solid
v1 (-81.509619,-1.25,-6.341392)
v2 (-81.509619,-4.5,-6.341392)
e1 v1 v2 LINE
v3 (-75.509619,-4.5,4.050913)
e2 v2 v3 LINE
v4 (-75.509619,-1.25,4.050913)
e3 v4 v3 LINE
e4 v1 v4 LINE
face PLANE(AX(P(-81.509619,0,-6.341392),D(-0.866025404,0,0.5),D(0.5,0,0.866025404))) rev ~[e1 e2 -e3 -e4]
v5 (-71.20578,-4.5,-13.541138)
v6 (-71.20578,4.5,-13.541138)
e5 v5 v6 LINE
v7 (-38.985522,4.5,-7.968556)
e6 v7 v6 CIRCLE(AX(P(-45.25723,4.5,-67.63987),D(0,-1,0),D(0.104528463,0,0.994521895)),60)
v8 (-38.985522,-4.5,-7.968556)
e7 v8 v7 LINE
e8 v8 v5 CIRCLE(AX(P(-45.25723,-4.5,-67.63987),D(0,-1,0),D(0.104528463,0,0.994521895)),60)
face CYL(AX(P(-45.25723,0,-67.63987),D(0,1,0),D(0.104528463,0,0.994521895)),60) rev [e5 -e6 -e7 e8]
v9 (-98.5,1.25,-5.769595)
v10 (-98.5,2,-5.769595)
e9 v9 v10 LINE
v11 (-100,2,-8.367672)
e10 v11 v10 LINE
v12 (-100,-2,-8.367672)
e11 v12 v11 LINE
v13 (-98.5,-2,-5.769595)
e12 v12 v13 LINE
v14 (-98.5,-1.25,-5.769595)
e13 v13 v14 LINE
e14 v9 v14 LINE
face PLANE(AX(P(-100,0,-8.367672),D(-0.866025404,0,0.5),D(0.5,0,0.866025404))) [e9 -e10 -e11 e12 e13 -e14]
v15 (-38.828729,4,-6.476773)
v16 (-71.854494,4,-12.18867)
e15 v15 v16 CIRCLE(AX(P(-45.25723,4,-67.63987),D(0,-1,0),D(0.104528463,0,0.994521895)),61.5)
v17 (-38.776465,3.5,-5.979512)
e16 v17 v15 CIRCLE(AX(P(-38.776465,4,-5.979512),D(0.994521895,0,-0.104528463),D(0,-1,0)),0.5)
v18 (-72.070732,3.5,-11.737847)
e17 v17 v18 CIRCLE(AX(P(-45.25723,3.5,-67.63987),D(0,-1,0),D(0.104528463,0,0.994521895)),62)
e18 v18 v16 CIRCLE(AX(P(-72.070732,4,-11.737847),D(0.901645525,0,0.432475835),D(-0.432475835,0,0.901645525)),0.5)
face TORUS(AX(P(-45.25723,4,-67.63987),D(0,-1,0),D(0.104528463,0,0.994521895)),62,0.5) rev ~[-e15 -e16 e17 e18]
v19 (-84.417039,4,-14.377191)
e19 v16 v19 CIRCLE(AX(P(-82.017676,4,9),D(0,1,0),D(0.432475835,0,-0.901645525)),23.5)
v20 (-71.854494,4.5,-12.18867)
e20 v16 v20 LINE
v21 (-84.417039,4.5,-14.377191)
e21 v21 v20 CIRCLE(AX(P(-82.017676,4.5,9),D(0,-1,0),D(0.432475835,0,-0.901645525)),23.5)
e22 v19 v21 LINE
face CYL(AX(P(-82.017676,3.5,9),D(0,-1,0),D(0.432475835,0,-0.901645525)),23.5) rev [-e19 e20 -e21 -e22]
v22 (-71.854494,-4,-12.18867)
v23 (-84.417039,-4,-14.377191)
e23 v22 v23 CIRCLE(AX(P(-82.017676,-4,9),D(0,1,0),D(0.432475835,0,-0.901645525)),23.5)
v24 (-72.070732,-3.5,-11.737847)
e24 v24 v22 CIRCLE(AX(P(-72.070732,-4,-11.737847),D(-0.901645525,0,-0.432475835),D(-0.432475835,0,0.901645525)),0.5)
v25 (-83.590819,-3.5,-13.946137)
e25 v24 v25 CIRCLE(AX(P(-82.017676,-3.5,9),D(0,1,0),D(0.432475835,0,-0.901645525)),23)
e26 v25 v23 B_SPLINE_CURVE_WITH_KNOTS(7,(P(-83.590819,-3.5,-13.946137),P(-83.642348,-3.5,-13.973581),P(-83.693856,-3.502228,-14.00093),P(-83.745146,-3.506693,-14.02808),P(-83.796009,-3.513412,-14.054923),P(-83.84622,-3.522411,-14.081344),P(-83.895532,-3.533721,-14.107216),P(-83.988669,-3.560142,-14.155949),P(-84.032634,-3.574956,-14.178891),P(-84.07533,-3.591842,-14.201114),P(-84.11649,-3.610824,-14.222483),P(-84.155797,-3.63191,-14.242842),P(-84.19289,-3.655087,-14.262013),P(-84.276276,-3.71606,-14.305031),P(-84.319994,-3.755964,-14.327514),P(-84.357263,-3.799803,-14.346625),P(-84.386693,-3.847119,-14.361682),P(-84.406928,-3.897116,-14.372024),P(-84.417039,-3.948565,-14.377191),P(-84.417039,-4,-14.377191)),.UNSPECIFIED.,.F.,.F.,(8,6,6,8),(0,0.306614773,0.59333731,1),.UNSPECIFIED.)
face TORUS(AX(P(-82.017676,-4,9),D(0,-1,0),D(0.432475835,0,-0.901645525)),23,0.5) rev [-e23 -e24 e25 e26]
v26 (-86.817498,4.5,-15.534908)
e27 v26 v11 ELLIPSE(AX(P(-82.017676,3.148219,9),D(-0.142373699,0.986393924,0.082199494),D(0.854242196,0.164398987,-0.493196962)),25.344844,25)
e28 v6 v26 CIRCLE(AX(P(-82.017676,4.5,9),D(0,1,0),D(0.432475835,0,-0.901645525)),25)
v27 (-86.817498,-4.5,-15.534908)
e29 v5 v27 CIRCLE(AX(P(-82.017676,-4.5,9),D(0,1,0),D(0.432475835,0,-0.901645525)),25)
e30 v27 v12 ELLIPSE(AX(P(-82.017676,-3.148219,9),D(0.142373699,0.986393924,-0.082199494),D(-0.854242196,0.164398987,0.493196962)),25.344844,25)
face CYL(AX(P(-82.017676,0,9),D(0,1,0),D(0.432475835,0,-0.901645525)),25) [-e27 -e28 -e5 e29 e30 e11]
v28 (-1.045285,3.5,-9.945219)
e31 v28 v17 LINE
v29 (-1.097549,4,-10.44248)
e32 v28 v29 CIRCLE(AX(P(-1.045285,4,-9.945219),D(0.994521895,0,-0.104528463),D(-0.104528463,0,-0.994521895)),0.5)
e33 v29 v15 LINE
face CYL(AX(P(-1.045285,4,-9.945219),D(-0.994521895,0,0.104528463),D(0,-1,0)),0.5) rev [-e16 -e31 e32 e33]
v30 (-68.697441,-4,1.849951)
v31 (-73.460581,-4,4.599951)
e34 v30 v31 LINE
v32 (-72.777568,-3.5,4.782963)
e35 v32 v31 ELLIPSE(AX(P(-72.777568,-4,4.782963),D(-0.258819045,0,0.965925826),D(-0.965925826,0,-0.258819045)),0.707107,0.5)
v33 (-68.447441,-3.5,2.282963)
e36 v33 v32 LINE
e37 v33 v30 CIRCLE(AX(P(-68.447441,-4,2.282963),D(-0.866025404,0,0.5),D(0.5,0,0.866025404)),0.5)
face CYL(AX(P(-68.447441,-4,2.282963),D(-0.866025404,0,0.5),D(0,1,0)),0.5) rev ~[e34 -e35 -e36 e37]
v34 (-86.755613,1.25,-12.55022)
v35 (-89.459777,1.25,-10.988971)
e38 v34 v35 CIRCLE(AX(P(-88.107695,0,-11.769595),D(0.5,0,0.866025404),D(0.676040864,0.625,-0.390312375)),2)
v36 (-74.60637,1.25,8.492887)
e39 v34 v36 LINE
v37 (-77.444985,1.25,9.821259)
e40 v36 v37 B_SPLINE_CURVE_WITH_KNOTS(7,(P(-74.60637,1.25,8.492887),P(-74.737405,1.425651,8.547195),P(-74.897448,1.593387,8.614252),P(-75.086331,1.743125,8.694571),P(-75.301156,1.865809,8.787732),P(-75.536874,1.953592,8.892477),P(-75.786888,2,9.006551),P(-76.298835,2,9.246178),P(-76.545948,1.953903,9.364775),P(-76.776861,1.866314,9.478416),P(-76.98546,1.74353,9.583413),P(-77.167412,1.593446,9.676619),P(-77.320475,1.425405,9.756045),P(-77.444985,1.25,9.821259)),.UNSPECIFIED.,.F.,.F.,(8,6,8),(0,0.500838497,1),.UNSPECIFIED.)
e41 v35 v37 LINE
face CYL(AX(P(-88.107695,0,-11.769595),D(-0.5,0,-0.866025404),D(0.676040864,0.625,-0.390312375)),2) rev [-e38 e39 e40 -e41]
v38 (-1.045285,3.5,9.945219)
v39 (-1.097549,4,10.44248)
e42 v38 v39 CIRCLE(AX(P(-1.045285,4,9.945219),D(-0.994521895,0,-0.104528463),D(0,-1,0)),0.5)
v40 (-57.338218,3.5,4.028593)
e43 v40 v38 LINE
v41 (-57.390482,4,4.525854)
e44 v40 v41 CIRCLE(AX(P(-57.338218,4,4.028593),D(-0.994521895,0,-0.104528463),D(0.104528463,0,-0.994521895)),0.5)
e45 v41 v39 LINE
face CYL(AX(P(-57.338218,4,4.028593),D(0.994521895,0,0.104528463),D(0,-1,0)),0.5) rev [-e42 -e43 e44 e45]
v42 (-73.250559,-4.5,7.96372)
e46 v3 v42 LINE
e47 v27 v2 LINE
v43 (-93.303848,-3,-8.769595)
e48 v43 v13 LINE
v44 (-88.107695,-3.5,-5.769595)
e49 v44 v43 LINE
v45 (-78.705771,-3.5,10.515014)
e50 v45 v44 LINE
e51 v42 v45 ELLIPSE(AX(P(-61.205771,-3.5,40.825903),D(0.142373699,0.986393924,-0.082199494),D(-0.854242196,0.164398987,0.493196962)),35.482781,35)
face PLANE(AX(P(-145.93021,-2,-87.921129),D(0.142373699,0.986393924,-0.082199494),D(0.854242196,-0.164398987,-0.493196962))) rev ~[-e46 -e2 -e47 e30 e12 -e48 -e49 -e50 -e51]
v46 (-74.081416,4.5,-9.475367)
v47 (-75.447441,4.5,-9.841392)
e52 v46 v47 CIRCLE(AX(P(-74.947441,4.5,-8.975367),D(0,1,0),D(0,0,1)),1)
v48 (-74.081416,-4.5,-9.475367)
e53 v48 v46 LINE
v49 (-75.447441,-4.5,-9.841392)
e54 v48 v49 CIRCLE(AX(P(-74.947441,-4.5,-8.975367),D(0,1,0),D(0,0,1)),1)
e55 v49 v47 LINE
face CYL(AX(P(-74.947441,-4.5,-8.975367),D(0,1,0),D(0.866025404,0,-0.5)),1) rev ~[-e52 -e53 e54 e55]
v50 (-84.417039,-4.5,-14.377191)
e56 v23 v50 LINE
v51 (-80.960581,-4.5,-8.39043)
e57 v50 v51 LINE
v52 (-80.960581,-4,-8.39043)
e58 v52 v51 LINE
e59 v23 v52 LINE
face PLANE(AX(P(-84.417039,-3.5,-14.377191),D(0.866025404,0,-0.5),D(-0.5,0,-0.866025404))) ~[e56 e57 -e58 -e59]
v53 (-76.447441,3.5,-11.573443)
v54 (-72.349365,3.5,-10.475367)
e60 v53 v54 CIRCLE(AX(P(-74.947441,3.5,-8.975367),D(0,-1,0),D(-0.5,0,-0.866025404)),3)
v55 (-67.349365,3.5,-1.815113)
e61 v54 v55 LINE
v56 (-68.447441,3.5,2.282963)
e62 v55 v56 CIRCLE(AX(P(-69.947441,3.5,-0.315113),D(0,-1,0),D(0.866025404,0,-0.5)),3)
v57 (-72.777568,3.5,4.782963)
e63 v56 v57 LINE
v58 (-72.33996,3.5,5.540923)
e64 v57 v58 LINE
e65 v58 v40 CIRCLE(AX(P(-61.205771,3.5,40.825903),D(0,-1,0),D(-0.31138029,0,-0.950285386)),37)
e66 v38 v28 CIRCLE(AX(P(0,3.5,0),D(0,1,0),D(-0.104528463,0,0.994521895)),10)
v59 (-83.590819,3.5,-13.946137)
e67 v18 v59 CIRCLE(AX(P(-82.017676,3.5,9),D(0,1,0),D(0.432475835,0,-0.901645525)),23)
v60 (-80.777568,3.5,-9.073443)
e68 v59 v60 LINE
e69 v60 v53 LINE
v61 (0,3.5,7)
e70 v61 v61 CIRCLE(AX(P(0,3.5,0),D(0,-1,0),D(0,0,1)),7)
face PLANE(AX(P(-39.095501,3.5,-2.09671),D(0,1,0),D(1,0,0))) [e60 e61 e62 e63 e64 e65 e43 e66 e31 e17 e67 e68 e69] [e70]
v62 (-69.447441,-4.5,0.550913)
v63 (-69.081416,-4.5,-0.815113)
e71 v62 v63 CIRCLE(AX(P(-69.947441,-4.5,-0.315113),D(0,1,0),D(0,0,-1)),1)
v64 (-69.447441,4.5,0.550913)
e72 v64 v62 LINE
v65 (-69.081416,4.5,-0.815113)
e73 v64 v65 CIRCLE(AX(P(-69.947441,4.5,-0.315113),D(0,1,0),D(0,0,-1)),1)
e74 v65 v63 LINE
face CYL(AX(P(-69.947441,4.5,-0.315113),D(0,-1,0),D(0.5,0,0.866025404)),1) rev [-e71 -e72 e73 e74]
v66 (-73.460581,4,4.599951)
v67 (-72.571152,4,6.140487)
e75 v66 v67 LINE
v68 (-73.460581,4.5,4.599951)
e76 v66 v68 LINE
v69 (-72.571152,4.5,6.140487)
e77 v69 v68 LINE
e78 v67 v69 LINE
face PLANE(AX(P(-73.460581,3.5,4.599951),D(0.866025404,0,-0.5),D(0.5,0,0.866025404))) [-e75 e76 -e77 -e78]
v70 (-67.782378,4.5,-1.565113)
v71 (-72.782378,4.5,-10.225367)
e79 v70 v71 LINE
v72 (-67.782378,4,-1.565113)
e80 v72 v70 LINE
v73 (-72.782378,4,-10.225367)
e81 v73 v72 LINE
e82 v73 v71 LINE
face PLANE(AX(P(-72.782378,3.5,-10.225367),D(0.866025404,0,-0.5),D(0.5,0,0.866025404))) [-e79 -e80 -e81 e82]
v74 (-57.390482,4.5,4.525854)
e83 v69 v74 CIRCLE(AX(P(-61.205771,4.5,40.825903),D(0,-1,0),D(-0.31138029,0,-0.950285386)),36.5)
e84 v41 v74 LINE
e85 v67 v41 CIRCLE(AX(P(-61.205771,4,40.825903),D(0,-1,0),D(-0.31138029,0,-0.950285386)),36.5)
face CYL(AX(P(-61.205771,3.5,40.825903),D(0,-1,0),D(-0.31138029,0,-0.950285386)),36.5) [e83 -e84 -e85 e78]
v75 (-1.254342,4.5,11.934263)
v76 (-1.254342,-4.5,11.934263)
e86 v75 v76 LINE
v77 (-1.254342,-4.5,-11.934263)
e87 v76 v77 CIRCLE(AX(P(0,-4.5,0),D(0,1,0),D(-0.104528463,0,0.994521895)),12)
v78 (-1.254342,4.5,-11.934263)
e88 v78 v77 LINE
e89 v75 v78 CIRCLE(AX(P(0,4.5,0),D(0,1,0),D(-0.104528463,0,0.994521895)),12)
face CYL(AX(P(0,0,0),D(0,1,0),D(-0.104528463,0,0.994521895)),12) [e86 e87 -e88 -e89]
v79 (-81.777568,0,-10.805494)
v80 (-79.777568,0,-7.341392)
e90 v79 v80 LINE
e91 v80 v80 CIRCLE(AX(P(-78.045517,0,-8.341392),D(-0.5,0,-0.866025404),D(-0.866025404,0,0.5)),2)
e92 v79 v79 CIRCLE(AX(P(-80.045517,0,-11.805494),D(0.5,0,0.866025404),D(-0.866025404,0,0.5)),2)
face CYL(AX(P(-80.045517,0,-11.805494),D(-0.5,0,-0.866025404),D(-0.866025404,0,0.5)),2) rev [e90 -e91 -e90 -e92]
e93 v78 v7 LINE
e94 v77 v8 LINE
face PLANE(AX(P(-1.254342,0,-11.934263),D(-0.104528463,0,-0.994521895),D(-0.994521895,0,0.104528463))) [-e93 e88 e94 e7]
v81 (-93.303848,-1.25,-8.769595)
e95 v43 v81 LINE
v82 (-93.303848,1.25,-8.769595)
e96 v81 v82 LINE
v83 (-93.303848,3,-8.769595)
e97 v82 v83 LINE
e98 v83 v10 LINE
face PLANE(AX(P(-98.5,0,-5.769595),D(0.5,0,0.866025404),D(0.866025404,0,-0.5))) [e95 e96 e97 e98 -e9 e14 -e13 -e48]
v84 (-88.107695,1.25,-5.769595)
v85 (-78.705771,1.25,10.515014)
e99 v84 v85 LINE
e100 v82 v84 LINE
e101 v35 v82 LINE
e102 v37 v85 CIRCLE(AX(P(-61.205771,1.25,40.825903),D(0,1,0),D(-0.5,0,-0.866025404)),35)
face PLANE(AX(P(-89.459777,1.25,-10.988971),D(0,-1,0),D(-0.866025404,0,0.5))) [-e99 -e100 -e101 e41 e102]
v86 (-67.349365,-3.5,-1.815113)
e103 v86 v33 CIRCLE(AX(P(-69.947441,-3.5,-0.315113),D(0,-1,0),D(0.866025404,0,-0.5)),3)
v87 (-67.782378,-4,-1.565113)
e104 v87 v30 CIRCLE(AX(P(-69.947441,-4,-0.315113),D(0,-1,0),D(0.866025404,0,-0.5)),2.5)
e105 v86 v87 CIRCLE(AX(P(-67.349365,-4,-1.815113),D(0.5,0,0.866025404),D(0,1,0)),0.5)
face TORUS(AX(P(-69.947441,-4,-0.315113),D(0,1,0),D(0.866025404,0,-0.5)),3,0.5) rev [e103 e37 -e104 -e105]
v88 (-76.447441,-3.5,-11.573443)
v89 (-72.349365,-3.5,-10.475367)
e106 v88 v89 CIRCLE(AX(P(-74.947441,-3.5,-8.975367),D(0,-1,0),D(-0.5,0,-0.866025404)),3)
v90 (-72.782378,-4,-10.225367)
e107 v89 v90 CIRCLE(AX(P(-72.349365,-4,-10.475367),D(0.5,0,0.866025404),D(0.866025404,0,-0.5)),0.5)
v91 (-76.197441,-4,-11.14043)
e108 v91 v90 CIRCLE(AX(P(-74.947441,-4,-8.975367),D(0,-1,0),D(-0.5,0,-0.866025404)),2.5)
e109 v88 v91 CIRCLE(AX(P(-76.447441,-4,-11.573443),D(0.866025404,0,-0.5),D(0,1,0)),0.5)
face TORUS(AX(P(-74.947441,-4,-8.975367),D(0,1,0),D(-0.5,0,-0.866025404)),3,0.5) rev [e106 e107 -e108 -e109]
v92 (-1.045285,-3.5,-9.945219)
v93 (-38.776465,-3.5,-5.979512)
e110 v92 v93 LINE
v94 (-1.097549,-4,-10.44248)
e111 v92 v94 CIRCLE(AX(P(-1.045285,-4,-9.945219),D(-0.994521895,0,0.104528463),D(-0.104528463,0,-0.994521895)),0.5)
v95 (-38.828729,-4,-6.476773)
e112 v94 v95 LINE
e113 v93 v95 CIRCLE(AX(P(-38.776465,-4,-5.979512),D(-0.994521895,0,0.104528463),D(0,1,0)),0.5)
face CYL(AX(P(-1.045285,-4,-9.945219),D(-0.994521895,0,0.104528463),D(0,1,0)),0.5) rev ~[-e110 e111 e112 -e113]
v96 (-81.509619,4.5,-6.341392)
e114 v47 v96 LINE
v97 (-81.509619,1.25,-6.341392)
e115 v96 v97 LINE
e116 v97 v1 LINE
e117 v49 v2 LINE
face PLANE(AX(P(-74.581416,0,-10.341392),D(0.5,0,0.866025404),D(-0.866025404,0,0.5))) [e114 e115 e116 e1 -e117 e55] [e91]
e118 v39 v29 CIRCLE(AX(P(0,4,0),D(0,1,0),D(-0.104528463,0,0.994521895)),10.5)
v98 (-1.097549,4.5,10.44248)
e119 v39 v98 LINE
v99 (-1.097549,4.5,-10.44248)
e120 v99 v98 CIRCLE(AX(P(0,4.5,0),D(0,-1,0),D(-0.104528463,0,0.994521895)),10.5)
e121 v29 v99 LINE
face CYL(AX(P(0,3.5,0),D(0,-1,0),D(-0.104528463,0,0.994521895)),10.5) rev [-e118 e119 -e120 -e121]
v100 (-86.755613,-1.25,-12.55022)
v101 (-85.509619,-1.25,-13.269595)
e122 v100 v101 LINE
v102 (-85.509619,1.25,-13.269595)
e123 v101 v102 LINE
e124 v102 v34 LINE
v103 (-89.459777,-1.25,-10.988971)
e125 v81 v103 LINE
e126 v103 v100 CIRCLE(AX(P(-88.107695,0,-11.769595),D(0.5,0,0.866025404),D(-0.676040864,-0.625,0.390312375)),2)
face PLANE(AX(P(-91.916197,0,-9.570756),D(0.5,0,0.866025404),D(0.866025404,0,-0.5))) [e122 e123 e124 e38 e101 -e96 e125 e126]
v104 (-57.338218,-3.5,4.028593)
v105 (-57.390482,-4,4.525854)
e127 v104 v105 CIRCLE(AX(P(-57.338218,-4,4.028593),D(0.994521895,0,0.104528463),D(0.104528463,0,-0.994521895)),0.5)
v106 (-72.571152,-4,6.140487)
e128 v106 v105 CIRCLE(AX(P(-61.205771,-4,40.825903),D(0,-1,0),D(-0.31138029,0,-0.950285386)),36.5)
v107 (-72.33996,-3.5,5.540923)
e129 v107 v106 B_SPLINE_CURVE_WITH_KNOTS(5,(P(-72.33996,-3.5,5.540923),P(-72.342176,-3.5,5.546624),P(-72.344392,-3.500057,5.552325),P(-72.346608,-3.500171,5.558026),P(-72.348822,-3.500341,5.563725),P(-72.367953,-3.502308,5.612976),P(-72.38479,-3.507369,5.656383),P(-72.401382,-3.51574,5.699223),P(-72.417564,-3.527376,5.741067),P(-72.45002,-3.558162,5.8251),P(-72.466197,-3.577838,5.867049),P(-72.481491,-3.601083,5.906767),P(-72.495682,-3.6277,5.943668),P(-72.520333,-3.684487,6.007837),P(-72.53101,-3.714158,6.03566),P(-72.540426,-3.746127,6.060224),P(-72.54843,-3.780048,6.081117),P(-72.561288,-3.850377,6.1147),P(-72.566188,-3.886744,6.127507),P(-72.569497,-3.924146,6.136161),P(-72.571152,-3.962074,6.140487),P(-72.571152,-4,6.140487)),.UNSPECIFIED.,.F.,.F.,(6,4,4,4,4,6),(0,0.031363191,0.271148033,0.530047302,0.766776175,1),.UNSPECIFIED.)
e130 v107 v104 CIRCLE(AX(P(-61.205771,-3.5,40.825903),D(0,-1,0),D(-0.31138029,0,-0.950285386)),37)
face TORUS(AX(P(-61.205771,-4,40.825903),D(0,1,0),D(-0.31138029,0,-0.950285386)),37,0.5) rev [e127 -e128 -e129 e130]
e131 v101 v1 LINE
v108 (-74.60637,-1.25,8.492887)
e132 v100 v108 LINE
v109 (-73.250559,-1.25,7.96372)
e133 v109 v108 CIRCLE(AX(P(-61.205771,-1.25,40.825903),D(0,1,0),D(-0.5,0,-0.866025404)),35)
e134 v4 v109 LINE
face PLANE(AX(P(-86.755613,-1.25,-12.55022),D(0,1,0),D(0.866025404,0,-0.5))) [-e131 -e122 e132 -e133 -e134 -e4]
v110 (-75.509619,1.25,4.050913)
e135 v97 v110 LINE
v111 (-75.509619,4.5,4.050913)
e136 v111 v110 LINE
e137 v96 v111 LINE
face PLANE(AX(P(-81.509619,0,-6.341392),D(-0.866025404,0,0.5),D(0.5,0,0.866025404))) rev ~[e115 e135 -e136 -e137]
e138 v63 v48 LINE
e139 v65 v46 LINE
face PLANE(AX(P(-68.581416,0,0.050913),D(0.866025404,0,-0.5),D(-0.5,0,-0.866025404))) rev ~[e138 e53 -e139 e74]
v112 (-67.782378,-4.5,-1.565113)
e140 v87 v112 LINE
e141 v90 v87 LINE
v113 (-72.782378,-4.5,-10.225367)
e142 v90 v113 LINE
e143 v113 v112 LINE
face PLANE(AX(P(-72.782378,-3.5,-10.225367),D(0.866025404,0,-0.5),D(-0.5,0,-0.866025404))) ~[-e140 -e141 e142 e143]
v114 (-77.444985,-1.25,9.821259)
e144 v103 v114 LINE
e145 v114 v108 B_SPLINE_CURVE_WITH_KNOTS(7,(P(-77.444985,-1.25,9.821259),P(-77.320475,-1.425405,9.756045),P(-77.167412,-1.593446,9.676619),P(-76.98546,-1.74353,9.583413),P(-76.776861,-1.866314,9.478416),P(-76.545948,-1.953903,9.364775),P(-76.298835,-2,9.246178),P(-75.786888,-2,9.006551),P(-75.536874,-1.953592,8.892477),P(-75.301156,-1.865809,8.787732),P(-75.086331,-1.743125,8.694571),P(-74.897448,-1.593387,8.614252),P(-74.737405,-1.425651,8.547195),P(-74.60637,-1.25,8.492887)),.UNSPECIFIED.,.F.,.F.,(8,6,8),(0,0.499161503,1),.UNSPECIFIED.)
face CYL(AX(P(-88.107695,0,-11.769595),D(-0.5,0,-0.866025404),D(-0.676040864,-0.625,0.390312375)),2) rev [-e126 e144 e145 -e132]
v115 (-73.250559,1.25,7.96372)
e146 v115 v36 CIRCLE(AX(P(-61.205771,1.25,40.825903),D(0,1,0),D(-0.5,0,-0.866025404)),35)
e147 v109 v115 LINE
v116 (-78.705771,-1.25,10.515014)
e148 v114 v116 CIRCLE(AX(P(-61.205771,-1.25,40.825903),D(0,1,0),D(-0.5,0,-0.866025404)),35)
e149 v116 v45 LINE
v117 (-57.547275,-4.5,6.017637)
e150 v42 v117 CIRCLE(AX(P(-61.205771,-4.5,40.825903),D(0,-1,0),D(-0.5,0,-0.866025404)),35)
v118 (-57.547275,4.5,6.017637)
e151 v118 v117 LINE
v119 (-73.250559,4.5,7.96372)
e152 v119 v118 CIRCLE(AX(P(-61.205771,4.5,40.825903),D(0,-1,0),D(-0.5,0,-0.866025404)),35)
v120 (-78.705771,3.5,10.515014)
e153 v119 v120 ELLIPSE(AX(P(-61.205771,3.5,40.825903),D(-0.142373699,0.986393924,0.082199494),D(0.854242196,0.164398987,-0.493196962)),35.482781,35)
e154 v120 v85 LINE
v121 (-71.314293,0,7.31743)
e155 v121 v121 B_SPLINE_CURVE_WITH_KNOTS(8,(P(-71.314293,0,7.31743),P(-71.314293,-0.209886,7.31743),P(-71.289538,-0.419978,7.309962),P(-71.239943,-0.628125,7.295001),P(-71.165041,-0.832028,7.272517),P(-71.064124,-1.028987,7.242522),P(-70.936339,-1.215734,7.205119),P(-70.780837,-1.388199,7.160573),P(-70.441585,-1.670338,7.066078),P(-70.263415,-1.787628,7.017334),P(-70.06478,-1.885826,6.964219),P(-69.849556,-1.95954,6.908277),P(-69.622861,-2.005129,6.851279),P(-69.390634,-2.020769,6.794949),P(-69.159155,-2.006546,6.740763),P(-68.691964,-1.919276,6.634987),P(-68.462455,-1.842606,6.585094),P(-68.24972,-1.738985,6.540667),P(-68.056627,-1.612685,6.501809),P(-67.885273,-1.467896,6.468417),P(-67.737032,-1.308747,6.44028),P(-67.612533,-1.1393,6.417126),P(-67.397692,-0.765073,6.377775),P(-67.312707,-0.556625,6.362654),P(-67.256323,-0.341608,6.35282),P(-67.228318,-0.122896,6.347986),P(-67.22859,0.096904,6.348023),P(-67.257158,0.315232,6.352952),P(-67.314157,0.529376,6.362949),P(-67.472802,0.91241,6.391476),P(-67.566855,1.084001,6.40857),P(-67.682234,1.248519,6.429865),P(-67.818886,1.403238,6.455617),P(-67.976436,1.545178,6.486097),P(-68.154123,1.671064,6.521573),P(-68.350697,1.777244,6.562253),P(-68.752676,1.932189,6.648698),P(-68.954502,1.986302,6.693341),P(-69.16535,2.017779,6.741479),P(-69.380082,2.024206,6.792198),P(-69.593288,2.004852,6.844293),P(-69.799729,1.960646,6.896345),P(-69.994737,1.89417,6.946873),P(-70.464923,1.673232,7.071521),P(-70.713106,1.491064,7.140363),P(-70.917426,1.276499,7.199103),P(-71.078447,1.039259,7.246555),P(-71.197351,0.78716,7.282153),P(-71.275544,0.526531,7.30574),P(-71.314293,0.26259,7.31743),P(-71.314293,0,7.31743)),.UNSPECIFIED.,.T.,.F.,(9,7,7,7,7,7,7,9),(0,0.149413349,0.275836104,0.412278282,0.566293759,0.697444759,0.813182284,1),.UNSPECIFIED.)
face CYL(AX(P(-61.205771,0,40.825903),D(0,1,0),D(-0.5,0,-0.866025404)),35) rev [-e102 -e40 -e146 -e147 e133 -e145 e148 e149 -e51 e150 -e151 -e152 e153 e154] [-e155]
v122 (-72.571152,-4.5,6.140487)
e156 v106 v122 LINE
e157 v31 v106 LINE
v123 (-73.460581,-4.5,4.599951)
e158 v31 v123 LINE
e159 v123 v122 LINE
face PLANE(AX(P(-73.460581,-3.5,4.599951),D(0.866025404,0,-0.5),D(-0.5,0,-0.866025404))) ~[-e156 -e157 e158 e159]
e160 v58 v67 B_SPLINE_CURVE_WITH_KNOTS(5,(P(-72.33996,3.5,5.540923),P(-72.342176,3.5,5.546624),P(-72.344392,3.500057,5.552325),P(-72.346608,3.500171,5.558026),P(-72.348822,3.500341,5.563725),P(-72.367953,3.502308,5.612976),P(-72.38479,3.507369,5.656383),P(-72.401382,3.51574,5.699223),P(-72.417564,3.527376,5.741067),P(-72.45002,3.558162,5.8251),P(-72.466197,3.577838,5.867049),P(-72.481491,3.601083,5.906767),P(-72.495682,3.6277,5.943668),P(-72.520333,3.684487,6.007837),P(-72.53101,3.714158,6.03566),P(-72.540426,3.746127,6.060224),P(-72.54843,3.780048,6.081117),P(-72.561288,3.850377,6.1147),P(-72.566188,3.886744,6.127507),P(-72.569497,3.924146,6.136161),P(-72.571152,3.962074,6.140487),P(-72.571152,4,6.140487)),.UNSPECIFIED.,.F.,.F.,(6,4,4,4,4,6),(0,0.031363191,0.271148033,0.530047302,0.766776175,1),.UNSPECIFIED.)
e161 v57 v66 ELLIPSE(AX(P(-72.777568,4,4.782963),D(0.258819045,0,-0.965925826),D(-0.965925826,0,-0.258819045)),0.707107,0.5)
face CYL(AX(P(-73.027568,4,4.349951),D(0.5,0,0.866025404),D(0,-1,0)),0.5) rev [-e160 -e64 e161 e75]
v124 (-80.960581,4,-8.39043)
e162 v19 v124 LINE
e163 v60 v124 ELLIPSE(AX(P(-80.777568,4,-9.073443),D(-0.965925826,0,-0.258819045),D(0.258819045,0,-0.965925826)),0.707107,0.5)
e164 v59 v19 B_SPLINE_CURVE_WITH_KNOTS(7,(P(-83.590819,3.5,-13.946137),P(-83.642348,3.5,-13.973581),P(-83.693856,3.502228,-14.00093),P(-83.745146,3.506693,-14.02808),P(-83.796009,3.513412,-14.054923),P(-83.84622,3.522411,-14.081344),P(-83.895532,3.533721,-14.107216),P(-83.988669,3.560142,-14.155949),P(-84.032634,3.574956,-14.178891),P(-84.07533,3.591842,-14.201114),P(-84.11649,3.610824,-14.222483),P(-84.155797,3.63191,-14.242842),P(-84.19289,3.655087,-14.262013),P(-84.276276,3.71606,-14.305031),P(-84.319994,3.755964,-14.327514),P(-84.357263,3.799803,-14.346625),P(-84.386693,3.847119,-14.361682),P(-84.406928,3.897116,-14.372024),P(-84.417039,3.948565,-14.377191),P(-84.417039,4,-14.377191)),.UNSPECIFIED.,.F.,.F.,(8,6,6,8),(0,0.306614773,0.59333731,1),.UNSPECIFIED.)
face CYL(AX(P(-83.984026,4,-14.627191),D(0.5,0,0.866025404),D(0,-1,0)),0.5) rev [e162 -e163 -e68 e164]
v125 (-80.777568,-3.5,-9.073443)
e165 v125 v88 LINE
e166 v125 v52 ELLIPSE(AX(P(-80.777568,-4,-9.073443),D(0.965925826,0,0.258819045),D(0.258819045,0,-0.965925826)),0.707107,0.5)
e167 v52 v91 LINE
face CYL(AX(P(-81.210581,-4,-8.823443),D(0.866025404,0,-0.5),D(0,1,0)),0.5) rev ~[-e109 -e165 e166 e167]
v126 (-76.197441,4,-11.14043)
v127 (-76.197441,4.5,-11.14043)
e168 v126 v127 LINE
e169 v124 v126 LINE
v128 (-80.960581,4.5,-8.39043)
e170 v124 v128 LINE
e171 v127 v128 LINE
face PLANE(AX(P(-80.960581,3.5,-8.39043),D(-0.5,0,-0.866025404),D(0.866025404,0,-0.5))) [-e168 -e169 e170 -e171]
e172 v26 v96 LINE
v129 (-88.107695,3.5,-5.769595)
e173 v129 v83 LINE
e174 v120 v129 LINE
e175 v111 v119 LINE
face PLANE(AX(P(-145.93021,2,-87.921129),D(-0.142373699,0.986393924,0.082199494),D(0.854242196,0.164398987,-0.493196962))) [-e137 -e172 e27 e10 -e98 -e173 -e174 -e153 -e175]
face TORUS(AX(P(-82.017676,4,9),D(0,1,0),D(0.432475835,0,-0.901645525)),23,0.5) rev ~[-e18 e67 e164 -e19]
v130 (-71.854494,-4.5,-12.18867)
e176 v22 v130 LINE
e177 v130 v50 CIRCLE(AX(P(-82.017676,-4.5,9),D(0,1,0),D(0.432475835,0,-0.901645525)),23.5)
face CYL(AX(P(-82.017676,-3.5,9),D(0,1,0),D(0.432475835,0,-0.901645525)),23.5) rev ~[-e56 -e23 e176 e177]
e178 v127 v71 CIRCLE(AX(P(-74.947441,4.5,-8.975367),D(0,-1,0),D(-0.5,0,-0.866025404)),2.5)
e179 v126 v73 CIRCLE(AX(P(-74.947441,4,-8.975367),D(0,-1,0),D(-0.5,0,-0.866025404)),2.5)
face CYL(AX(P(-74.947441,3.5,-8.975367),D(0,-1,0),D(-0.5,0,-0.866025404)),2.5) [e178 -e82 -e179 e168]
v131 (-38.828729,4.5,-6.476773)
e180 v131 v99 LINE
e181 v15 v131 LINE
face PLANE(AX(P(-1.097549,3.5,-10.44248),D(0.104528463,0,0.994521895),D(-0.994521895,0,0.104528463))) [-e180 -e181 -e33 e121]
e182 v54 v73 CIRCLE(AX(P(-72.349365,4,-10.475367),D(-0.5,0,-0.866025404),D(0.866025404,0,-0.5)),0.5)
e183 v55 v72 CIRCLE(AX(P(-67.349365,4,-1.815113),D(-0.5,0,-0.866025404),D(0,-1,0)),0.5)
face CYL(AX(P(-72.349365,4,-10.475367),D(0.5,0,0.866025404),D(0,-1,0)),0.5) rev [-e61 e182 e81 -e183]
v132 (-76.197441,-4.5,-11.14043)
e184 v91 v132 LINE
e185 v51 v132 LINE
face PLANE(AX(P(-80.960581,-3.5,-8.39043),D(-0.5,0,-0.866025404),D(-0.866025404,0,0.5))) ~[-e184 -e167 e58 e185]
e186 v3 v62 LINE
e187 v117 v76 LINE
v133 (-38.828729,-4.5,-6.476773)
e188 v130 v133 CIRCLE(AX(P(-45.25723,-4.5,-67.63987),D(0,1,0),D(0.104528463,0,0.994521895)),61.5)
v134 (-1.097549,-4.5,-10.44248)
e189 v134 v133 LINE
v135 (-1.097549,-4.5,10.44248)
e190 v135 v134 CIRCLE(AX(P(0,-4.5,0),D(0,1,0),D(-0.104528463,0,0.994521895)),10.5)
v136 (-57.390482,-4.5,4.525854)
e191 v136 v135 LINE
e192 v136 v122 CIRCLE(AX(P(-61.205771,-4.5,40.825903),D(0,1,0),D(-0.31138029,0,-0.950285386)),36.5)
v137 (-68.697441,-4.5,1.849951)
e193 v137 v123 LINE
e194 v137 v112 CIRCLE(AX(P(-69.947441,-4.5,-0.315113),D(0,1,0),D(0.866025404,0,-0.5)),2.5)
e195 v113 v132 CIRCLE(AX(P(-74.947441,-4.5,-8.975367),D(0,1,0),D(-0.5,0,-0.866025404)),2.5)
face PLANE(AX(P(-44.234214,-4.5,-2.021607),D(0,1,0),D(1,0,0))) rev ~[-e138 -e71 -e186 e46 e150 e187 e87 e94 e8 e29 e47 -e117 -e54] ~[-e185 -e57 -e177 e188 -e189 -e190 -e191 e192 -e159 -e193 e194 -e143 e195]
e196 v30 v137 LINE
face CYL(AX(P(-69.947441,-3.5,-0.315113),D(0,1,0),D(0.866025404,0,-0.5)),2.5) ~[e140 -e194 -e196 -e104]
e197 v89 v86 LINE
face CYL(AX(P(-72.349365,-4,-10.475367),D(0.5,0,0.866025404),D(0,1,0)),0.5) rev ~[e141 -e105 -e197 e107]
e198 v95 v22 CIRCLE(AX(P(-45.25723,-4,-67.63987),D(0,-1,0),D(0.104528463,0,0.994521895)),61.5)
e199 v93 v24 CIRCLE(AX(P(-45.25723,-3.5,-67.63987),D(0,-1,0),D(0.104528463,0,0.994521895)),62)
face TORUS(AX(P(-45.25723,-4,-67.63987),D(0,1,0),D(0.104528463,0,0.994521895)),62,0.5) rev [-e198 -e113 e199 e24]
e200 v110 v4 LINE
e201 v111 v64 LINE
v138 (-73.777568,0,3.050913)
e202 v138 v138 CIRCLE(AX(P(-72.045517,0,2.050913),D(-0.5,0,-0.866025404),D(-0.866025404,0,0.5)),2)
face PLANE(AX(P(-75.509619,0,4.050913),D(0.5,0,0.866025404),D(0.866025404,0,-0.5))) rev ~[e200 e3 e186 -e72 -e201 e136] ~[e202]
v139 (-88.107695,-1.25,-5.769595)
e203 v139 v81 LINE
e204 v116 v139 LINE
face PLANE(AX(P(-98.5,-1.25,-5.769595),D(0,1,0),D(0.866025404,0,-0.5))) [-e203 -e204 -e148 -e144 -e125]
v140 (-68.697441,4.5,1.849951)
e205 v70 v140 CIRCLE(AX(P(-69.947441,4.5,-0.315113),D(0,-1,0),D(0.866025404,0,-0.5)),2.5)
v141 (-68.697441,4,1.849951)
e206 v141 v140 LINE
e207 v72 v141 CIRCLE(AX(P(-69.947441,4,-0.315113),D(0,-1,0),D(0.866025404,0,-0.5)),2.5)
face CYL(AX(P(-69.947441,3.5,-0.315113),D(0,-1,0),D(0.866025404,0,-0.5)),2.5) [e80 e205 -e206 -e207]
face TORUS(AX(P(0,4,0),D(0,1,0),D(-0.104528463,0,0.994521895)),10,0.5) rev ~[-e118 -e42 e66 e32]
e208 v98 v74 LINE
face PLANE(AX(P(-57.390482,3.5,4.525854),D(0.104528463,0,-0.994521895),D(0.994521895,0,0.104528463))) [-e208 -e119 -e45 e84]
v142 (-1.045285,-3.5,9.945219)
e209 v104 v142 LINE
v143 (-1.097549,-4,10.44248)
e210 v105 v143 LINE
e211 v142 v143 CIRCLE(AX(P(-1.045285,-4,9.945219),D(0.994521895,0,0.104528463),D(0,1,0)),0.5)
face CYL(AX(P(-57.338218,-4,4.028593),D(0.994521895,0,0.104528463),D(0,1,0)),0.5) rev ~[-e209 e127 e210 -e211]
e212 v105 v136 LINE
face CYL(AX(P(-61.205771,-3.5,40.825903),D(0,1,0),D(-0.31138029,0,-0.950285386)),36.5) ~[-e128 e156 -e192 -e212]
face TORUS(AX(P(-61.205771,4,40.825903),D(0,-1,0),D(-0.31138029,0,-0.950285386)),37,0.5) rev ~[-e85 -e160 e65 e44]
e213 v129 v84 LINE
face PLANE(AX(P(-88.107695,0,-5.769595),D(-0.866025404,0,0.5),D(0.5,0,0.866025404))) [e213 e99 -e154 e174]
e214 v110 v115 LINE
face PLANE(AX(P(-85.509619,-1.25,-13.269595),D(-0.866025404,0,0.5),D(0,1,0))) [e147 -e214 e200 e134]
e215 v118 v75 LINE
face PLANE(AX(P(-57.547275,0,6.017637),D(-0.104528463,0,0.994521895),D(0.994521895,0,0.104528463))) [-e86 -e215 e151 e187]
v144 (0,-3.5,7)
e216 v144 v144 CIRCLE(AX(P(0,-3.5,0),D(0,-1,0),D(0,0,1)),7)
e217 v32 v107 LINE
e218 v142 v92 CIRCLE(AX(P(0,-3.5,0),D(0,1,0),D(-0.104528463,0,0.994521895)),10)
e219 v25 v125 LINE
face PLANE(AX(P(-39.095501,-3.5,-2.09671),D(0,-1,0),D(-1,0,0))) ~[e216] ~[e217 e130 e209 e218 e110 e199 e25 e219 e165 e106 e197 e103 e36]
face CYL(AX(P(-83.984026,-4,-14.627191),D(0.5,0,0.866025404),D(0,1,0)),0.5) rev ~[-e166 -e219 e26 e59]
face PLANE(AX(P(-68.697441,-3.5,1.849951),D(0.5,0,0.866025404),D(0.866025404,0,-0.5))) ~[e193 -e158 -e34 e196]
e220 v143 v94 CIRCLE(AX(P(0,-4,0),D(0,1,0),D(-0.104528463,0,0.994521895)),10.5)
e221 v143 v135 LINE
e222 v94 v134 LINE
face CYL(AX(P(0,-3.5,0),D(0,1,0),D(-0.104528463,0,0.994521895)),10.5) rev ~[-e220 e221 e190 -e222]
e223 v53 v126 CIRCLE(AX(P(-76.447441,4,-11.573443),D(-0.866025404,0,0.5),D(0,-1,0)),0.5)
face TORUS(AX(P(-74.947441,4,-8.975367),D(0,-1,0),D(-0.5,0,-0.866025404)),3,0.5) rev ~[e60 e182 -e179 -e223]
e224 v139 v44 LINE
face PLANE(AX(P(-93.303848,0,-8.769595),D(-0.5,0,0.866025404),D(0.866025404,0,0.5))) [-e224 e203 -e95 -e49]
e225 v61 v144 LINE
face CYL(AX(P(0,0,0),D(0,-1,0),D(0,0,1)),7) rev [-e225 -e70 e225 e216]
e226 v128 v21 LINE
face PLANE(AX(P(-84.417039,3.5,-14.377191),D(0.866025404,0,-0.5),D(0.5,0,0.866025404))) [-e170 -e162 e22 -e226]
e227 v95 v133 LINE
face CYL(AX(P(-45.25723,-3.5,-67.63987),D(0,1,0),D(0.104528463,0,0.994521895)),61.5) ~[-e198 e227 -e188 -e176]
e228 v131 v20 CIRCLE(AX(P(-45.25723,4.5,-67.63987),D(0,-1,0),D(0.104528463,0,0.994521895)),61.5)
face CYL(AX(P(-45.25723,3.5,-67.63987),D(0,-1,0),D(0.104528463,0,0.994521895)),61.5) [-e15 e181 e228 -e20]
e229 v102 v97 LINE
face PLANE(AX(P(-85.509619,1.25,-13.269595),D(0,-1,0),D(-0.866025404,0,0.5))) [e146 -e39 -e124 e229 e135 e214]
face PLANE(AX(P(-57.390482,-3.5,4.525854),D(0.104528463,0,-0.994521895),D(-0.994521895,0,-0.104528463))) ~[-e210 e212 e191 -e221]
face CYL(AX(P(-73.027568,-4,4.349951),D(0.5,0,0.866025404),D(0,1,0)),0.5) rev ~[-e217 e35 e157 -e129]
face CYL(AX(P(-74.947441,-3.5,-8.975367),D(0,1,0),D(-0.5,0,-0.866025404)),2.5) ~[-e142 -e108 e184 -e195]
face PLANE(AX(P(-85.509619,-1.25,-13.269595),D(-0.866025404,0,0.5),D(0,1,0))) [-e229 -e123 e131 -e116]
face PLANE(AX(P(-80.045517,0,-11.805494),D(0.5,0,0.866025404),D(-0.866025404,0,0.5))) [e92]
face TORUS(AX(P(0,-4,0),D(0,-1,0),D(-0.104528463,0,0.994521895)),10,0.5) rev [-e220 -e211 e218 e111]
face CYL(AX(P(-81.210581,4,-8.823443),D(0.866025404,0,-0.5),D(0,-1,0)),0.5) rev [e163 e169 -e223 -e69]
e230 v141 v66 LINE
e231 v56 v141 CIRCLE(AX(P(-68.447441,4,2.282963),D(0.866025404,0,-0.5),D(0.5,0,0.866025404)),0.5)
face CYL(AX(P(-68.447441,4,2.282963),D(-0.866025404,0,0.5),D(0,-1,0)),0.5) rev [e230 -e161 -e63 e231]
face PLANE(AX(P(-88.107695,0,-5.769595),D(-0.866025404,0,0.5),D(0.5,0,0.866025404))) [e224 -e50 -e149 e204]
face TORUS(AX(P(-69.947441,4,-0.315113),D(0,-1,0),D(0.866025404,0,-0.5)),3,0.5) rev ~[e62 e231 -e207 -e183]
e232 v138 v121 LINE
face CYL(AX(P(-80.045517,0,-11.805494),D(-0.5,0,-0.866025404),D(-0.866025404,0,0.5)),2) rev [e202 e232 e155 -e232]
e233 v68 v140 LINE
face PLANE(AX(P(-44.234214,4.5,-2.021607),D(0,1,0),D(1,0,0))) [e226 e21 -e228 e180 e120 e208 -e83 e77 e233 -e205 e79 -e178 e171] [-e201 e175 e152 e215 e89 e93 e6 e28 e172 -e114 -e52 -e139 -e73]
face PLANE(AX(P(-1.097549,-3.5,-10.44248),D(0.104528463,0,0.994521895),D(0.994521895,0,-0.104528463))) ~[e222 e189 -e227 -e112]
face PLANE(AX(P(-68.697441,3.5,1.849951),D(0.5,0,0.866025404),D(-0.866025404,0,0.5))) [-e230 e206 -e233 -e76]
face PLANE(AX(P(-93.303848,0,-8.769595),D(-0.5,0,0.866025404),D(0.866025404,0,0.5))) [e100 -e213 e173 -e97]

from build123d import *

# Parameters (mm, degrees)
SKETCH1_R               = 7
BOSS_EXTRUDE1_DEPTH     = 4.5
CUT_EXTRUDE1_DEPTH      = 93.949210636
CUT_EXTRUDE1_DEPTH_BACK = 4
SKETCH2_R               = 2
CUT_EXTRUDE2_DEPTH      = 94.860420286
CUT_EXTRUDE3_DEPTH      = 94.860420286
CUT_EXTRUDE3_DEPTH_BACK = 94.860420286
FILLET1_R               = 1
CUT_EXTRUDE4_START      = -1
CUT_EXTRUDE4_DEPTH      = 103.671038166
FILLET2_R               = 0.5
FILLET2_OF_MIRROR1_R    = 0.5


with BuildPart() as part:
    # Sketch1 → Boss-Extrude1 (new, symmetric)
    with BuildSketch(Plane(origin=(0, 0, 0), x_dir=(1, 0, 0), z_dir=(0, 1, 0))):
        with BuildLine():
            Line((-1.254341559, 11.934262744), (-38.985522111, 7.968555867))
            ThreePointArc((-38.985522111, 7.968555867), (-55.482588048, 8.517606008), (-71.205780018, 13.541138114))
            ThreePointArc((-71.205780018, 13.541138114), (-86.438642867, 15.605996242), (-100, 8.367671688))
            Line((-100, 8.367671688), (-98.5, 5.769595477))
            Line((-98.5, 5.769595477), (-93.303847577, 8.769595477))
            Line((-93.303847577, 8.769595477), (-88.107695155, 5.769595477))
            Line((-88.107695155, 5.769595477), (-78.705771366, -10.515014214))
            ThreePointArc((-78.705771366, -10.515014214), (-68.482680545, -6.590737321), (-57.547275152, -6.017637008))
            Line((-57.547275152, -6.017637008), (-1.254341559, -11.934262744))
            ThreePointArc((-1.254341559, -11.934262744), (12, 0), (-1.254341559, 11.934262744))
        make_face()
        with Locations(Location((0, 0, 0), (0, 0, 270))):
            Circle(SKETCH1_R, mode=Mode.SUBTRACT)
        Polygon((-81.509618943, 6.341392247), (-75.509618943, -4.050912599), (-68.581415713, -0.050912599), (-74.581415713, 10.341392247), align=None, mode=Mode.SUBTRACT)
    extrude(amount=BOSS_EXTRUDE1_DEPTH, both=True)

    # Sketch2 → Cut-Extrude1 (cut, two sides: drawn at the far end of the back side and taken through both)
    with BuildSketch(Plane(origin=(-23.123308126, 0, -40.050744514), x_dir=(0.86602540378444, 0, -0.49999999999999784), z_dir=(0.49999999999999784, 0, 0.86602540378444)).offset(-CUT_EXTRUDE1_DEPTH_BACK)):
        with Locations(Location((-63.418704534, 0, 0), (0, 0, 180))):
            Circle(SKETCH2_R)
    extrude(amount=CUT_EXTRUDE1_DEPTH + CUT_EXTRUDE1_DEPTH_BACK, mode=Mode.SUBTRACT)

    # Sketch3 → Cut-Extrude2 (cut, through all)
    with BuildSketch(Plane(origin=(-27.123308126, 0, -46.978947744), x_dir=(0.8660254037844406, 0, -0.4999999999999967), z_dir=(0.4999999999999967, 0, 0.8660254037844406))):
        with BuildLine():
            Line((-82.418704534, -1.25), (-71.979954034, -1.25))
            ThreePointArc((-71.979954034, -1.25), (-70.418704534, -2), (-68.857455035, -1.25))
            Line((-68.857455035, -1.25), (-67.418704534, -1.25))
            Line((-67.418704534, -1.25), (-67.418704534, 1.25))
            Line((-67.418704534, 1.25), (-68.857455035, 1.25))
            ThreePointArc((-68.857455035, 1.25), (-70.418704534, 2), (-71.979954034, 1.25))
            Line((-71.979954034, 1.25), (-82.418704534, 1.25))
            Line((-82.418704534, 1.25), (-82.418704534, -1.25))
        make_face()
    extrude(amount=CUT_EXTRUDE2_DEPTH, mode=Mode.SUBTRACT)

    # Sketch4 → Cut-Extrude3 (cut, two sides: drawn at the far end of the back side and taken through both)
    with BuildSketch(Plane(origin=(-27.123308126, 0, -46.978947744), x_dir=(0.8660254037844406, 0, -0.4999999999999967), z_dir=(0.4999999999999967, 0, 0.8660254037844406)).offset(-CUT_EXTRUDE3_DEPTH_BACK)):
        Polygon((-82.418704534, 4.5), (-82.418704534, 2), (-67.418704534, 4.5), align=None)
        Polygon((-82.418704534, -4.5), (-82.418704534, -2), (-67.418704534, -4.5), align=None)
    extrude(amount=CUT_EXTRUDE3_DEPTH + CUT_EXTRUDE3_DEPTH_BACK, mode=Mode.SUBTRACT)

    # Fillet1
    fillet1_edges = [part.edges().sort_by_distance(p)[0] for p in [
        (-74.581415713, 0, -10.341392247),
        (-68.581415713, 0, 0.050912599),
    ]]
    fillet(fillet1_edges, radius=FILLET1_R)

    # Sketch5 → Cut-Extrude4 (cut)
    with BuildSketch(Plane(origin=(0, 4.5, 0), x_dir=(1, 0, 0), z_dir=(0, 1, 0)).offset(CUT_EXTRUDE4_START)):
        with BuildLine():
            Line((-84.417038698, 14.377190981), (-80.960580838, 8.390430352))
            Line((-80.960580838, 8.390430352), (-76.197441117, 11.140430352))
            ThreePointArc((-76.197441117, 11.140430352), (-74.300393504, 11.390181409), (-72.782377607, 10.225366843))
            Line((-72.782377607, 10.225366843), (-67.782377607, 1.565112805))
            ThreePointArc((-67.782377607, 1.565112805), (-67.532626551, -0.331934808), (-68.697441117, -1.849950704))
            Line((-68.697441117, -1.849950704), (-73.460580838, -4.599950704))
            Line((-73.460580838, -4.599950704), (-72.571151937, -6.14048675))
            ThreePointArc((-72.571151937, -6.14048675), (-65.066176866, -4.530624461), (-57.390482457, -4.525854165))
            Line((-57.390482457, -4.525854165), (-1.097548864, -10.442479901))
            ThreePointArc((-1.097548864, -10.442479901), (10.5, 0), (-1.097548864, 10.442479901))
            Line((-1.097548864, 10.442479901), (-38.828729416, 6.476773024))
            ThreePointArc((-38.828729416, 6.476773024), (-55.738222001, 7.039549419), (-71.854493771, 12.188669828))
            ThreePointArc((-71.854493771, 12.188669828), (-77.984484997, 14.151314674), (-84.417038698, 14.377190981))
        make_face()
    cut_extrude4 = extrude(amount=CUT_EXTRUDE4_DEPTH, mode=Mode.SUBTRACT)

    # Fillet2
    fillet2_edges = [part.edges().sort_by_distance(p)[0] for p in [
        (-78.579010977, 3.5, -9.765430352),
        (-74.300393504, 3.5, -11.390181409),
        (-71.079010977, 3.5, 3.224950704),
        (-67.532626551, 3.5, 0.331934808),
        (-65.066176866, 3.5, 4.530624461),
        (-29.24401566, 3.5, 7.484167033),
        (10.5, 3.5, 0),
        (-19.96313914, 3.5, -8.459626463),
        (-55.738222001, 3.5, -7.039549419),
        (-73.015866387, 3.5, 5.370218727),
        (-70.282377607, 3.5, -5.895239824),
        (-82.688809768, 3.5, -11.383810667),
        (-77.984484997, 3.5, -14.151314674),
    ]]
    fillet(fillet2_edges, radius=FILLET2_R)

    # Mirror1: Cut-Extrude4 across plane
    add(cut_extrude4.mirror(Plane.ZX), mode=Mode.SUBTRACT)

    # Fillet2 of Mirror1
    fillet2_of_mirror1_edges = [part.edges().sort_by_distance(p)[0] for p in [
        (-78.579010977, -3.5, -9.765430352),
        (-74.300393504, -3.5, -11.390181409),
        (-71.079010977, -3.5, 3.224950704),
        (-67.532626551, -3.5, 0.331934808),
        (-65.066176866, -3.5, 4.530624461),
        (-29.24401566, -3.5, 7.484167033),
        (10.5, -3.5, 0),
        (-19.96313914, -3.5, -8.459626463),
        (-55.738222001, -3.5, -7.039549419),
        (-73.015866387, -3.5, 5.370218727),
        (-70.282377607, -3.5, -5.895239824),
        (-82.688809768, -3.5, -11.383810667),
        (-77.984484997, -3.5, -14.151314674),
    ]]
    fillet(fillet2_of_mirror1_edges, radius=FILLET2_OF_MIRROR1_R)


solid = part.part
